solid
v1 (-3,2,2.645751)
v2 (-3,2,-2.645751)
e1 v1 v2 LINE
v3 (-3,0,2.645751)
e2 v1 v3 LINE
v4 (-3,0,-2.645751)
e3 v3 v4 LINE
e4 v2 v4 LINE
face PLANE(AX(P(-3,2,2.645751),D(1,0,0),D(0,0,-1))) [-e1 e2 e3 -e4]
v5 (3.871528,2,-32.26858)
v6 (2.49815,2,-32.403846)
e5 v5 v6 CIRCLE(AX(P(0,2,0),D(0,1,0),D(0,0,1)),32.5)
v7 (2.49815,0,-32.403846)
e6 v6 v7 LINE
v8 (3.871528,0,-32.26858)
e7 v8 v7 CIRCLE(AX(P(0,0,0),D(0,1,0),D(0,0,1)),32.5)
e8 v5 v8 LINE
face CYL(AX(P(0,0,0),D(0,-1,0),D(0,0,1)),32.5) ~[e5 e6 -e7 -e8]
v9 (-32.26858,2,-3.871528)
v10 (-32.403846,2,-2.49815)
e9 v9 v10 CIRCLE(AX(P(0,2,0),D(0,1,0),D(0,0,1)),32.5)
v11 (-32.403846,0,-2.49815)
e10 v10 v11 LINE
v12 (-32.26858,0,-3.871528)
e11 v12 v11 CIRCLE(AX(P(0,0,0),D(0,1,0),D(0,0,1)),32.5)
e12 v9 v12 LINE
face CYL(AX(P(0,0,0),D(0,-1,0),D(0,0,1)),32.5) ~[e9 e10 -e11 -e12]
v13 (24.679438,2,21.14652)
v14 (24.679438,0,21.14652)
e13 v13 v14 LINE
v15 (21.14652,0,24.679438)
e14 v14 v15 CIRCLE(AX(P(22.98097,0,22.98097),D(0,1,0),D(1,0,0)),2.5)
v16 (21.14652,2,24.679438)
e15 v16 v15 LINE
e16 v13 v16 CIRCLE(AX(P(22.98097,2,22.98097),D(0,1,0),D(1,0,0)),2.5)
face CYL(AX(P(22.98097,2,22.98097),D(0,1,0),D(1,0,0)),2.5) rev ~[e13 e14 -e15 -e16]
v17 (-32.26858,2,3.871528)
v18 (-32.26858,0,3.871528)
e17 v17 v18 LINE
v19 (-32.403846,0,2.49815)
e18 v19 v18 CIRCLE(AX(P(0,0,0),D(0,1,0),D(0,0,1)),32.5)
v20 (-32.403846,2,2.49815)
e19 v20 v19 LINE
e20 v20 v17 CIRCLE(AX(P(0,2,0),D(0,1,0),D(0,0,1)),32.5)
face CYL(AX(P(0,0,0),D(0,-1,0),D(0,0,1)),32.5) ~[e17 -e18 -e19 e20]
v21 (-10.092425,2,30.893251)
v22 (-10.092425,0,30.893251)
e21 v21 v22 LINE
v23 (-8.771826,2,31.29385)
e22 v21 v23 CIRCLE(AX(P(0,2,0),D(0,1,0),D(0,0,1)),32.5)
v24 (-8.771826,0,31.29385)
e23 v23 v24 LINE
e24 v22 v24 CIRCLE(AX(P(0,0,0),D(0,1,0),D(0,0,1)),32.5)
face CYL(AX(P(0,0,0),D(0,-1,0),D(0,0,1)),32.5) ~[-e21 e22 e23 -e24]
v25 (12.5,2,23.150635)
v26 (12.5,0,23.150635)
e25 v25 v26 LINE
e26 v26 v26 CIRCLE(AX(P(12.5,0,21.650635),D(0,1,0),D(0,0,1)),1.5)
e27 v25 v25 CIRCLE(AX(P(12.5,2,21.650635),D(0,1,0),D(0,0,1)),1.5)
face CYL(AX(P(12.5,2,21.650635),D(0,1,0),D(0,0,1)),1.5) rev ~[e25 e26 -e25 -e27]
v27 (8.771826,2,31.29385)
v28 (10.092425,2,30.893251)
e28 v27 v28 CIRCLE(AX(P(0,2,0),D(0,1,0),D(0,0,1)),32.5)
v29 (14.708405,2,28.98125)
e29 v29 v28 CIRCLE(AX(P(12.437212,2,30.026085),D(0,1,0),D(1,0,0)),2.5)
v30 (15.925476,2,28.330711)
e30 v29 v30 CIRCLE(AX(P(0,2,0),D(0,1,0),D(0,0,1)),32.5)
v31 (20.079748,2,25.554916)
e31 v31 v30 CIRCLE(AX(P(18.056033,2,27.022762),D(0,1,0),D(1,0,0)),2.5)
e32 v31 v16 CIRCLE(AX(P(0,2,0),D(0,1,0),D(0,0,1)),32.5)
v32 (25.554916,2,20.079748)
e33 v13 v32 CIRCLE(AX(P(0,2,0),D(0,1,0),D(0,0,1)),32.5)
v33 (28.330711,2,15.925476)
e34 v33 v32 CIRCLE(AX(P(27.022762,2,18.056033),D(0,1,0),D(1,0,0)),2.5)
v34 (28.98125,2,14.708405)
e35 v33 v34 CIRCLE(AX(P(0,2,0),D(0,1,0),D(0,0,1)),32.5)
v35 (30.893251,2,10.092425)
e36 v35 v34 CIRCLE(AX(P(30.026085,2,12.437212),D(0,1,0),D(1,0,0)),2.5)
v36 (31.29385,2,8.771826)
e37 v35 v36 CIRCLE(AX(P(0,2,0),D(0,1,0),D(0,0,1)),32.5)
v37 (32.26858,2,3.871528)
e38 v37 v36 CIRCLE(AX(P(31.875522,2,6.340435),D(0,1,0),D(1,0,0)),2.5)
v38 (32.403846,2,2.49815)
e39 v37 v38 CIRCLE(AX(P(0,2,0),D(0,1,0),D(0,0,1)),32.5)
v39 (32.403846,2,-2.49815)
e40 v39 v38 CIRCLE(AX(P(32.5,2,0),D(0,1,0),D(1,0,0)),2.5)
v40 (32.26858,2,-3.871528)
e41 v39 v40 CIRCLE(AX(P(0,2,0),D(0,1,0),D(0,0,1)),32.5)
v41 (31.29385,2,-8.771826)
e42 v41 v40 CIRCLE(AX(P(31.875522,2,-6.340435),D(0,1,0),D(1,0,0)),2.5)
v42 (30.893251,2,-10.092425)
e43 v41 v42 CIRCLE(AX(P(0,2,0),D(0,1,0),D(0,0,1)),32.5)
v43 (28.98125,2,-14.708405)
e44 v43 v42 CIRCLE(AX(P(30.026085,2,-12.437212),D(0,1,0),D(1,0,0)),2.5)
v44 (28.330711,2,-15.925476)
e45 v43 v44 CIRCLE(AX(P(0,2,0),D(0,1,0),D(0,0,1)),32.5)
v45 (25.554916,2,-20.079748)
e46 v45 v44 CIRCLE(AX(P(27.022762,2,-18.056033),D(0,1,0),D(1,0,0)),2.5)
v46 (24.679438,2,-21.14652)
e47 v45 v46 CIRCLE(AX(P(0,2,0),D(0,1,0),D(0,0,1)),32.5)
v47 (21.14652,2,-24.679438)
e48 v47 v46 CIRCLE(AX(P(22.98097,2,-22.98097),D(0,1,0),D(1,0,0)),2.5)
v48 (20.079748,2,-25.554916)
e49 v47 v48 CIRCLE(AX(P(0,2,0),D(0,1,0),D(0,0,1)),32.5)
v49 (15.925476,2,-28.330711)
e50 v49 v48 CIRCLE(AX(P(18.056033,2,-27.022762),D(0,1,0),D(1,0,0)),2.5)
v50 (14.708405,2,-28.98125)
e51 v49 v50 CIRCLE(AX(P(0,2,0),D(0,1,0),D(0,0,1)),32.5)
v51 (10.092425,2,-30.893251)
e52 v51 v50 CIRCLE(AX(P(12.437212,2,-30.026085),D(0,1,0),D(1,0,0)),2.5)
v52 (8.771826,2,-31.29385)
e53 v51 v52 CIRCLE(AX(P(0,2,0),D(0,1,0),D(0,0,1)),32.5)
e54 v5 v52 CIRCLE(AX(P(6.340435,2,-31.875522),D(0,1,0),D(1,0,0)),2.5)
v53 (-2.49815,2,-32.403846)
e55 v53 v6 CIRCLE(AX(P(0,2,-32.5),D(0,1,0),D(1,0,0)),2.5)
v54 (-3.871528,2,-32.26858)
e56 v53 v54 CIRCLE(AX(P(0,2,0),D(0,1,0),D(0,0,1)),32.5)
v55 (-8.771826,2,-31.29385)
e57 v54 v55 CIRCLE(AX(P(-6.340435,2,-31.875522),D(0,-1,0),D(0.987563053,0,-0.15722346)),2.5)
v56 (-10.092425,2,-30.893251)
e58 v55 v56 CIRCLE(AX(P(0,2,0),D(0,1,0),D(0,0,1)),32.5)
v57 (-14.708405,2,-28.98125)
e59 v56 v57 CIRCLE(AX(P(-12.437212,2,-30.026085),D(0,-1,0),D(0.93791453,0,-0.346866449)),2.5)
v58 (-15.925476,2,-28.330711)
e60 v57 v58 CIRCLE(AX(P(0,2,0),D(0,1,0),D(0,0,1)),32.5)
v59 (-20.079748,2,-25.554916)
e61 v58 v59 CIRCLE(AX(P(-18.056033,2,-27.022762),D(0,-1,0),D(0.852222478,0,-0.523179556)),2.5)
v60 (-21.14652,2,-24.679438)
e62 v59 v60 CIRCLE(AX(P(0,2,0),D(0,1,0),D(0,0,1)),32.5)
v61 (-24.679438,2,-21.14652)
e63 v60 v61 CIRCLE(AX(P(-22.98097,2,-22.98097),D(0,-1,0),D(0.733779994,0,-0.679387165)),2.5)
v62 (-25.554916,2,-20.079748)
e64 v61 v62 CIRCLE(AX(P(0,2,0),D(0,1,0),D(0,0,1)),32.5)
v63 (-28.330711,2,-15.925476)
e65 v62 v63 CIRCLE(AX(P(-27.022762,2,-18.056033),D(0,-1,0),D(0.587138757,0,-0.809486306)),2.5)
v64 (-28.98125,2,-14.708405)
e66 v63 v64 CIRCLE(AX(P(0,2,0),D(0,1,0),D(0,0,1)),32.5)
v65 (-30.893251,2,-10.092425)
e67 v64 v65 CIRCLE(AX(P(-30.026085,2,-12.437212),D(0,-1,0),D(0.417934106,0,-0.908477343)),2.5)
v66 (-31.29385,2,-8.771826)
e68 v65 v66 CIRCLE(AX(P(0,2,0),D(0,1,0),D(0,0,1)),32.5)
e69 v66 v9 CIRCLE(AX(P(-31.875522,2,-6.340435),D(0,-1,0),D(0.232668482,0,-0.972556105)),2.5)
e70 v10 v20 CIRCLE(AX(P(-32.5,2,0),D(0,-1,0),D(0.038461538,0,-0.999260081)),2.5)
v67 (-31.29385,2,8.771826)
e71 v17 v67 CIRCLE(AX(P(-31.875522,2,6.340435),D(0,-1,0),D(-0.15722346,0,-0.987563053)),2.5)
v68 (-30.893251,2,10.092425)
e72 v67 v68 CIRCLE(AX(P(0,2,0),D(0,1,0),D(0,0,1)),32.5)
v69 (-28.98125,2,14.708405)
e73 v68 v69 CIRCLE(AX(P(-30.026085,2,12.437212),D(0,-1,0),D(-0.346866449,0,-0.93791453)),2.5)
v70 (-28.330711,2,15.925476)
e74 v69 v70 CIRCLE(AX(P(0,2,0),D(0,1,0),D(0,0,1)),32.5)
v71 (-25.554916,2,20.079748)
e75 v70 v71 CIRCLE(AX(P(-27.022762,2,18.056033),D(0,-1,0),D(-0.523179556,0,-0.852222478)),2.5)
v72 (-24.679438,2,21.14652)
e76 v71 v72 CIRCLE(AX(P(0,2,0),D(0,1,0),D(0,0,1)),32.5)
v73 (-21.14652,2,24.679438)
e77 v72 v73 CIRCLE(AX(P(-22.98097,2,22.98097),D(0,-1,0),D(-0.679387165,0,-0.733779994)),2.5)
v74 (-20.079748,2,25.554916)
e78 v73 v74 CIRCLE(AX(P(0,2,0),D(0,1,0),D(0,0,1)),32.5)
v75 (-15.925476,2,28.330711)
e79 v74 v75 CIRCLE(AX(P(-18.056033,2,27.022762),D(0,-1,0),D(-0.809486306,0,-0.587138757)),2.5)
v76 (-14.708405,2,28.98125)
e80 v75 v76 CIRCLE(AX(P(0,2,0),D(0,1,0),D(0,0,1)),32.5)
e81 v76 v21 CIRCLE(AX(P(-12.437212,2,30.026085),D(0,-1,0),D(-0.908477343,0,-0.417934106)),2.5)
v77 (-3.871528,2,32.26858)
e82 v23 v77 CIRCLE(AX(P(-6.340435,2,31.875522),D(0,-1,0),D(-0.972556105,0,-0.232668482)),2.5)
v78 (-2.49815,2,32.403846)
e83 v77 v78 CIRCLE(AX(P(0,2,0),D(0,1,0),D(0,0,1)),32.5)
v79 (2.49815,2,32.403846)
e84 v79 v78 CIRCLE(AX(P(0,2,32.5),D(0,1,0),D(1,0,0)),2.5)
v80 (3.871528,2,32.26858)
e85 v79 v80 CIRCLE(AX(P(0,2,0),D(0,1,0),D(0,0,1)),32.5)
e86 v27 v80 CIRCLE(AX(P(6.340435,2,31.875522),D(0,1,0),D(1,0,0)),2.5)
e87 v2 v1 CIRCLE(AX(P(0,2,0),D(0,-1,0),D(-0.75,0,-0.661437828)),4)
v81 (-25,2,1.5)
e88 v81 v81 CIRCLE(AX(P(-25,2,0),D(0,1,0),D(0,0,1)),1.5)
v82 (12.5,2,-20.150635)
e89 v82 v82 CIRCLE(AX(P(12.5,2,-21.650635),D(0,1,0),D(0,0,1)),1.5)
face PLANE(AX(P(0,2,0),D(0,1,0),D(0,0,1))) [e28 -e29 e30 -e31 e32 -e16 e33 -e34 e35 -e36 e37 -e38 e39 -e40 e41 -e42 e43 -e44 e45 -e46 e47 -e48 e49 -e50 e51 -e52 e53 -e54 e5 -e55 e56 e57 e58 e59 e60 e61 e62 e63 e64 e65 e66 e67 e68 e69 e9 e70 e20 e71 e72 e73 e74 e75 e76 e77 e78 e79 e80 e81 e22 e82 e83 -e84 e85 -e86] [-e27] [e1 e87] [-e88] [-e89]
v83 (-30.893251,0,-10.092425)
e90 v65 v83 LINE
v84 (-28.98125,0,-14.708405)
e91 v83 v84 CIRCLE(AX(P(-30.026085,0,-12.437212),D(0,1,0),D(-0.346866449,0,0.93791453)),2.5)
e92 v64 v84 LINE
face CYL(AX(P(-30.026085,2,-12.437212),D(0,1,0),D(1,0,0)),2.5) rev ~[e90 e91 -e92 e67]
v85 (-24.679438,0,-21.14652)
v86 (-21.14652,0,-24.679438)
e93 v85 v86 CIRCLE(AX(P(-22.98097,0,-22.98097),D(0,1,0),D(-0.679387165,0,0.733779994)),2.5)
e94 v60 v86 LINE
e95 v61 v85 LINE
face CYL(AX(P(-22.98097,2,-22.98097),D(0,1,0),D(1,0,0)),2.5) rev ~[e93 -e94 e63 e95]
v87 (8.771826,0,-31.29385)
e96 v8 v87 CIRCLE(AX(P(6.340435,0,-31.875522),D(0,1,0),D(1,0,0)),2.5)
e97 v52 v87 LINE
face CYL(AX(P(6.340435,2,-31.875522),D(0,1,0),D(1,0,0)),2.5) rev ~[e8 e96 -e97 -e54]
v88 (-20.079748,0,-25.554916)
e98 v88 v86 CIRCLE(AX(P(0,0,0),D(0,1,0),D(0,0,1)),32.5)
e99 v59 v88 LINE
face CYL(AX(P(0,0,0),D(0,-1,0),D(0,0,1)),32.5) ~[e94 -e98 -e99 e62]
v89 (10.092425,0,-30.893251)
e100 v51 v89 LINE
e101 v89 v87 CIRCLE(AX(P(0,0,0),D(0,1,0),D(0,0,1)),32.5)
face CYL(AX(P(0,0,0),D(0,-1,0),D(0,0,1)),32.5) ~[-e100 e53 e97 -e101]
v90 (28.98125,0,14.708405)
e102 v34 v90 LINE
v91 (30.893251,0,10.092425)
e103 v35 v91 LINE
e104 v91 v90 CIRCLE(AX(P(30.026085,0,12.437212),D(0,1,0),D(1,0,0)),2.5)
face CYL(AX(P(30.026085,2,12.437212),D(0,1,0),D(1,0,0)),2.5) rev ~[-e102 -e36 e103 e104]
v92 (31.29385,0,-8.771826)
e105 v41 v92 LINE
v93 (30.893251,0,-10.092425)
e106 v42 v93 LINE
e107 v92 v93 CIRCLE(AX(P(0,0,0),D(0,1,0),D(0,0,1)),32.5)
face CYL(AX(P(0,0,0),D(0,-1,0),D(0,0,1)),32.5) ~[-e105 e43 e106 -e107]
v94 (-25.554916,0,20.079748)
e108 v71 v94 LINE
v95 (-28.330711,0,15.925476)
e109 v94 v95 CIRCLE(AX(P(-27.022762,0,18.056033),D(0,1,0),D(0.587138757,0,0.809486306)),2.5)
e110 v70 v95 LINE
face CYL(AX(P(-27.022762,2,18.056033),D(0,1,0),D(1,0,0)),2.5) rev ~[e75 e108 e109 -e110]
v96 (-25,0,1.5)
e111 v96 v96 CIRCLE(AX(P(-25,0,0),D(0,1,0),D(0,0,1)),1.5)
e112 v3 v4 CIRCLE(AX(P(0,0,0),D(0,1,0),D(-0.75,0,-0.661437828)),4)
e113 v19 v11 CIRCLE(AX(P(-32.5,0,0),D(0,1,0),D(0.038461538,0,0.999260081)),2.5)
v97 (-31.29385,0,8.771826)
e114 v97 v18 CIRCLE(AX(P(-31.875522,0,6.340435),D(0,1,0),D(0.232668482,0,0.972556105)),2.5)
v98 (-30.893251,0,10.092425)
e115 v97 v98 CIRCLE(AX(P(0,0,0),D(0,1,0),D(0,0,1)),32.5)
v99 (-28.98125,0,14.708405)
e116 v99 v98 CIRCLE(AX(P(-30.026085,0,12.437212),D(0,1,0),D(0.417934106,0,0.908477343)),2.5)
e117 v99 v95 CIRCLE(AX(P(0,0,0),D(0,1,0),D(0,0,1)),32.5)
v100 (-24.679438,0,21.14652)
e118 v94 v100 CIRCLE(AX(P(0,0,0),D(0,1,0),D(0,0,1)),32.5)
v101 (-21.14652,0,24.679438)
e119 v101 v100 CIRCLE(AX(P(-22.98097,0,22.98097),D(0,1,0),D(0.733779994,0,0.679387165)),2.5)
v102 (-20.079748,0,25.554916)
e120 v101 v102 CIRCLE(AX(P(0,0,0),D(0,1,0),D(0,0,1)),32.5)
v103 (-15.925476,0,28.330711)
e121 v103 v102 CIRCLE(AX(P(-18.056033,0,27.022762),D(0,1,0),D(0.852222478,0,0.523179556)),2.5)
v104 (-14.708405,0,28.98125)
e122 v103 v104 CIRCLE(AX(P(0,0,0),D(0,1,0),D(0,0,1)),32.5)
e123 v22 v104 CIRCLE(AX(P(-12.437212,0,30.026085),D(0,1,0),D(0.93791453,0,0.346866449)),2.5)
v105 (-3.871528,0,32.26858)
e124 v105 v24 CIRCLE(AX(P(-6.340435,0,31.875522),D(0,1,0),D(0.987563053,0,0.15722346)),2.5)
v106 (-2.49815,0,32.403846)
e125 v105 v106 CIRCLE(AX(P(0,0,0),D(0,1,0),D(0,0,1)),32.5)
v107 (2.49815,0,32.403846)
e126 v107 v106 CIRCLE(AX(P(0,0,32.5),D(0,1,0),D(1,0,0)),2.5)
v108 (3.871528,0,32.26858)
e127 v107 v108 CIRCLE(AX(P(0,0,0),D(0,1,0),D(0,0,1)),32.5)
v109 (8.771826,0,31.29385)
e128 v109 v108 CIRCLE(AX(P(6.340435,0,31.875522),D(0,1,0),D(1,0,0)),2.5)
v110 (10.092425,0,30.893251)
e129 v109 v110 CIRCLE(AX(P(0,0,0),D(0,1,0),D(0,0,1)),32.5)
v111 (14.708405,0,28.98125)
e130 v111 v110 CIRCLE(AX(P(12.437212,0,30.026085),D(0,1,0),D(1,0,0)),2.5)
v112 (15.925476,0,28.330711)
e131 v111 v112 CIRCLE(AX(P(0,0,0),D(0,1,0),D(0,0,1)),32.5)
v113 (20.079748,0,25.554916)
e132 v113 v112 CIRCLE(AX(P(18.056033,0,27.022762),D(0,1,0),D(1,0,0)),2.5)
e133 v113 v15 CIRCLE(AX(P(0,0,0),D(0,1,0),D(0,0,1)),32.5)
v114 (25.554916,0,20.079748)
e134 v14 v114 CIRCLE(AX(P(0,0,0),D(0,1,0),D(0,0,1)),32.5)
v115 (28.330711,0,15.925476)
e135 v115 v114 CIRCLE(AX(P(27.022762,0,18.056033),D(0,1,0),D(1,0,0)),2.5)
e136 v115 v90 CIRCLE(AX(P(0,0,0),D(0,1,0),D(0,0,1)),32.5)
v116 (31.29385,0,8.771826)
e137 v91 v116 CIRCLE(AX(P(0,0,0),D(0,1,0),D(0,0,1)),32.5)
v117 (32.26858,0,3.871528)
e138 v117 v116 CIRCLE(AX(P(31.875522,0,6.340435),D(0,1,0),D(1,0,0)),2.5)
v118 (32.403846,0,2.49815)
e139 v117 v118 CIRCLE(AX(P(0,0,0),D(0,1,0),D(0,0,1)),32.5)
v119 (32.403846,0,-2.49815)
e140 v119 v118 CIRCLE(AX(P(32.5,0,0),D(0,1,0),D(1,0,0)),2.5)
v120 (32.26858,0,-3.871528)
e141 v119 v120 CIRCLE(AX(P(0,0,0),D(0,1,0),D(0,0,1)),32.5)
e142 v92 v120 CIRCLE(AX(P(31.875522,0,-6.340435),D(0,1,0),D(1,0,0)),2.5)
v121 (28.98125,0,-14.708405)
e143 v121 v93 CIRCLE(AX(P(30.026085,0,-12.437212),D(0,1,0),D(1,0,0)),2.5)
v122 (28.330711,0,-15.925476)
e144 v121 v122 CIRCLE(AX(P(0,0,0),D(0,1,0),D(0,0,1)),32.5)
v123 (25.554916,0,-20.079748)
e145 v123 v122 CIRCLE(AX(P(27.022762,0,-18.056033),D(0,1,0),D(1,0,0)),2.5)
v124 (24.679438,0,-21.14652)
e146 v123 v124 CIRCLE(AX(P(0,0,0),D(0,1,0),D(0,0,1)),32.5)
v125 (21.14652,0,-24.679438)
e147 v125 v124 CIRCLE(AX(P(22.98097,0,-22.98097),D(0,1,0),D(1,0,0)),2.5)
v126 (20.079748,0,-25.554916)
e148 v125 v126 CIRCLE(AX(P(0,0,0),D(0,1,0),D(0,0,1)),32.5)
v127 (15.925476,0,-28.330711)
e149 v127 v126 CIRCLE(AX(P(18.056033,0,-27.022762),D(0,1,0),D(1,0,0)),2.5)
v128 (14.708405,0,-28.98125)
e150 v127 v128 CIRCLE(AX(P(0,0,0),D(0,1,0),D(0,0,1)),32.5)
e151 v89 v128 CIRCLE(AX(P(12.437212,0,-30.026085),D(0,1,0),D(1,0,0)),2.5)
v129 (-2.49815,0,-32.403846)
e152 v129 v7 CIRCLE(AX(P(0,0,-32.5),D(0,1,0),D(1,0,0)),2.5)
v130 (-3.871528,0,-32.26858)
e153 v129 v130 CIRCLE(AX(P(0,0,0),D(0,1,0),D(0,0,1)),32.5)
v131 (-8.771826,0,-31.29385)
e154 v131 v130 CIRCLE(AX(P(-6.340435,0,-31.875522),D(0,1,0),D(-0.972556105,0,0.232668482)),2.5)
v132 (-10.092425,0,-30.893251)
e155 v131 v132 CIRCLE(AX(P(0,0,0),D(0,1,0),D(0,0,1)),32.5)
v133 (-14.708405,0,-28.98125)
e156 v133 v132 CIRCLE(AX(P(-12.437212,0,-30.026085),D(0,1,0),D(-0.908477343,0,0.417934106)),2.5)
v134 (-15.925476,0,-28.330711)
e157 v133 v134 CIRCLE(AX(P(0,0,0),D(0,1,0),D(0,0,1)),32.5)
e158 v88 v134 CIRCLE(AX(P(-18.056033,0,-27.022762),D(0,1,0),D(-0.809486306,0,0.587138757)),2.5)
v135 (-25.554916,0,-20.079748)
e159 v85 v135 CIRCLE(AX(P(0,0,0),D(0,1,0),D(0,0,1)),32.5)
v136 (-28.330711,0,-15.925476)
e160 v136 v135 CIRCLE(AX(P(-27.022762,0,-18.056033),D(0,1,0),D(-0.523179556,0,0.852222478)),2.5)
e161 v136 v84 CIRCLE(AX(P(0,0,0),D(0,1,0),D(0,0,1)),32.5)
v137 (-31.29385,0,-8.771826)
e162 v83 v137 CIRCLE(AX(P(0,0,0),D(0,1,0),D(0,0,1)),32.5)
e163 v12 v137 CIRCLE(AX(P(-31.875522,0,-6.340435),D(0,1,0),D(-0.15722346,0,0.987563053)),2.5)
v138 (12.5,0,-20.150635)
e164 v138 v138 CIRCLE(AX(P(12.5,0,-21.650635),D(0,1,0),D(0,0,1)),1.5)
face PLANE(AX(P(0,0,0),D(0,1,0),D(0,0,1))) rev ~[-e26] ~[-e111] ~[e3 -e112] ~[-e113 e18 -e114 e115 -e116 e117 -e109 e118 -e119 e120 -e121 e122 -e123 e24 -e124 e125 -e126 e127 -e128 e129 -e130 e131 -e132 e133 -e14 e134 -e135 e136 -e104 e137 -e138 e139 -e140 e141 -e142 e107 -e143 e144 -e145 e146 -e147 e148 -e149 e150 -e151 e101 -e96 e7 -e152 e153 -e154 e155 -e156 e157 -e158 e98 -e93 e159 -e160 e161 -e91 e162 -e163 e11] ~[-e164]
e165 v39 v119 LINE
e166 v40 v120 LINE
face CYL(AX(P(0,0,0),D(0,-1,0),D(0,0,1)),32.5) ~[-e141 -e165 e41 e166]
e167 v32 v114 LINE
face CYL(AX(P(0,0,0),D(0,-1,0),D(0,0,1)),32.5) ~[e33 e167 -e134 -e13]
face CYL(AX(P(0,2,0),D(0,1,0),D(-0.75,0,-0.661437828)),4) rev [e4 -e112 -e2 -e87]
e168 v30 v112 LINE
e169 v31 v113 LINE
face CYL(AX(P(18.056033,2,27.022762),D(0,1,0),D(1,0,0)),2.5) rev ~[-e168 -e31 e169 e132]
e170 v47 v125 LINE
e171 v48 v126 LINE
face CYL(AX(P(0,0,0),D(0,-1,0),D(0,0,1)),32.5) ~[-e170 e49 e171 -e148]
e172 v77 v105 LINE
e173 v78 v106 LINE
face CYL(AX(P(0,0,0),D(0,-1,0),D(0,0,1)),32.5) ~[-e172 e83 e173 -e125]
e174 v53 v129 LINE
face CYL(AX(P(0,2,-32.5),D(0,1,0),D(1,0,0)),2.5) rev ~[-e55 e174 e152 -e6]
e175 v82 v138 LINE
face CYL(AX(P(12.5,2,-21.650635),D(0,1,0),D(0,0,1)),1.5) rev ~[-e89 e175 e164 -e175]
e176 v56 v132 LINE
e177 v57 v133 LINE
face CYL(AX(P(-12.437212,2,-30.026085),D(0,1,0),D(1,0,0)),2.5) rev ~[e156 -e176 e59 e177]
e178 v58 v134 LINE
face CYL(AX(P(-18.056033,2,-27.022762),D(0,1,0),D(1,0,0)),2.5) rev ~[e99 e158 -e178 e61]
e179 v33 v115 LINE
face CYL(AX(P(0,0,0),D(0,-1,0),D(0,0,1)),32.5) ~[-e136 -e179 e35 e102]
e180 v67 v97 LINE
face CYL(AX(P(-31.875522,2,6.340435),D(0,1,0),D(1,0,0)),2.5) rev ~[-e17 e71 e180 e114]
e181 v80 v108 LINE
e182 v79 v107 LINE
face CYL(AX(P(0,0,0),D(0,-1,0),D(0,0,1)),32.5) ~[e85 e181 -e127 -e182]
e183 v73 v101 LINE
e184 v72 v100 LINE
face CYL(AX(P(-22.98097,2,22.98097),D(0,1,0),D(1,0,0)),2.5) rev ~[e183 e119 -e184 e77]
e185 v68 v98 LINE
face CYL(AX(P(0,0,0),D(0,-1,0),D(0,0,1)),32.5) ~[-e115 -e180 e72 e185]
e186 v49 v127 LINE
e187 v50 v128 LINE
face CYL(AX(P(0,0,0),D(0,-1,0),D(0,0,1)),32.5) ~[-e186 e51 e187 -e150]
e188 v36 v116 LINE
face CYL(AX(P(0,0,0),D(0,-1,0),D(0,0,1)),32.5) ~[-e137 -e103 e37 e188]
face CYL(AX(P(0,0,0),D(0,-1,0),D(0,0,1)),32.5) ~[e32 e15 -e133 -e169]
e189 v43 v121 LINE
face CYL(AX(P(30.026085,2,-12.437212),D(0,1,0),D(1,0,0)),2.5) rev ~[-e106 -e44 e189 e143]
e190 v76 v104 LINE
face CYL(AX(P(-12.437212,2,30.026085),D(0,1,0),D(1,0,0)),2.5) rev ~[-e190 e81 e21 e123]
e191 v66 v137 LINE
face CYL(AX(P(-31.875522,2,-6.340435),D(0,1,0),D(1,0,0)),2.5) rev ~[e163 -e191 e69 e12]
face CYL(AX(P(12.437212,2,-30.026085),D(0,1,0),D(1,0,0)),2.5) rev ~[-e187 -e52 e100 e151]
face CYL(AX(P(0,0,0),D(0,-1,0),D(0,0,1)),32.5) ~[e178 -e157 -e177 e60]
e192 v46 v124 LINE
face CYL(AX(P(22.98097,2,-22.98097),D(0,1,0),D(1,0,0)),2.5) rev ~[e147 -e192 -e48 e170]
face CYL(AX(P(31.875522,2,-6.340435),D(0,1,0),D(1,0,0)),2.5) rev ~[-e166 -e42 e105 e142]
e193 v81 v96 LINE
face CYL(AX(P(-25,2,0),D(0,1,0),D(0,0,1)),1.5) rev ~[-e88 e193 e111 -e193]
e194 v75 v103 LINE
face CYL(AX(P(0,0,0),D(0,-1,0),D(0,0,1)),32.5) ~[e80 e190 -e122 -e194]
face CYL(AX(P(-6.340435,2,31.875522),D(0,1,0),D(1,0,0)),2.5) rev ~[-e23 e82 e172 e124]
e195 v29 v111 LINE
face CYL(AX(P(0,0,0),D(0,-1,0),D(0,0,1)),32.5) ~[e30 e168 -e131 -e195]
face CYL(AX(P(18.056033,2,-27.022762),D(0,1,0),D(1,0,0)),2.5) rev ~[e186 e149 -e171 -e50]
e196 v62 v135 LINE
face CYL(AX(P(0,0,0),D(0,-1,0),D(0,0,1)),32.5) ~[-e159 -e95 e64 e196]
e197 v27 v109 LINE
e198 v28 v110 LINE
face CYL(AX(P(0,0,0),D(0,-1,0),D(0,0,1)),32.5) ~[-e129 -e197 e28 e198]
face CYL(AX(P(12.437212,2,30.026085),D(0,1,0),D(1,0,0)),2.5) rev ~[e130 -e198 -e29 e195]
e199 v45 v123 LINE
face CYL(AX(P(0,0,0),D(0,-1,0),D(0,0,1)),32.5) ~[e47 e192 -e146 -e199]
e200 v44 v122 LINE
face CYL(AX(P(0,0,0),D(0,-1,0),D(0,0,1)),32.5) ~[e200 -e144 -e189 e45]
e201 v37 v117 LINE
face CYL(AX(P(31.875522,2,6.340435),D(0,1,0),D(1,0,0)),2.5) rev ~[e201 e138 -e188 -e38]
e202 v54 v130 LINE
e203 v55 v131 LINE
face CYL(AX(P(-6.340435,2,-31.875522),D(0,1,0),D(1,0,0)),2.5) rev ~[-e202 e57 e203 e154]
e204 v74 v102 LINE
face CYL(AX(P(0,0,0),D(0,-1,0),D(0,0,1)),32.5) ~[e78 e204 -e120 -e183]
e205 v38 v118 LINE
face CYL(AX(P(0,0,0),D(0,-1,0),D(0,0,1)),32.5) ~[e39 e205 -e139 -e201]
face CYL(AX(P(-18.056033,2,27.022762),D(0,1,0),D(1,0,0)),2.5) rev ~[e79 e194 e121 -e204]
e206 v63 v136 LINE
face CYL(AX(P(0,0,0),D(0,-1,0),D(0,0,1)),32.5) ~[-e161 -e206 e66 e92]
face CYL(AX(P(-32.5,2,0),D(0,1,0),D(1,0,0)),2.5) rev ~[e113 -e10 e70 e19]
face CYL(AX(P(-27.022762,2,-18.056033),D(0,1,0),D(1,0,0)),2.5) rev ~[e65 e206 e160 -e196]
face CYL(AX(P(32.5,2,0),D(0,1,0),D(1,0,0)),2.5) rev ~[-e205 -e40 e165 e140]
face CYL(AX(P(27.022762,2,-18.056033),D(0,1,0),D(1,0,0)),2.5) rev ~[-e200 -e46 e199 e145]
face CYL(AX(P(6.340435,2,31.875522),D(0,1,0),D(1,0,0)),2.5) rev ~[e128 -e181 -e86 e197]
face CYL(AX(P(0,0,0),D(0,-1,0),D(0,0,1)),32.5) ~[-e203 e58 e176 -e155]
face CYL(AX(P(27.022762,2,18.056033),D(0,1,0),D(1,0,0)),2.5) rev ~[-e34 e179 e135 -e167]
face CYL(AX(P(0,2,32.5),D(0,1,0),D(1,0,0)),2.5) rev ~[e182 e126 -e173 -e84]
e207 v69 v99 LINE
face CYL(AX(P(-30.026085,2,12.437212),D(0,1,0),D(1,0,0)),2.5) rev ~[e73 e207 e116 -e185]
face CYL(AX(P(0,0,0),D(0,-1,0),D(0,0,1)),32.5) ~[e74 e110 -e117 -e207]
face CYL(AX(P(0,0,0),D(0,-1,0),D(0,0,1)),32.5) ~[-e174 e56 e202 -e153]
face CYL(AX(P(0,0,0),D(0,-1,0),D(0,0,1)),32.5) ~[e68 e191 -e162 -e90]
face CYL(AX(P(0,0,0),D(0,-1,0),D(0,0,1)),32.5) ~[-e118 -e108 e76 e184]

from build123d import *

# Parameters (mm, degrees)
SKETCH1_R           = 32.5
BOSS_EXTRUDE1_DEPTH = 2
CUT_EXTRUDE2_DEPTH  = 47.005434462
SKETCH2_R           = 2.5
CUT_EXTRUDE1_DEPTH  = 47.005434462
SKETCH5_R           = 1.5
CUT_EXTRUDE3_DEPTH  = 10


with BuildPart() as part:
    # Sketch1 → Boss-Extrude1 (new body)
    with BuildSketch(Plane(origin=(0, 0, 0), x_dir=(1, 0, 0), z_dir=(0, 1, 0))):
        with Locations(Location((0, 0, 0), (0, 0, 270))):
            Circle(SKETCH1_R)
    extrude(amount=BOSS_EXTRUDE1_DEPTH)

    # Sketch4 → Cut-Extrude2 (cut, through all)
    with BuildSketch(Plane(origin=(0, 2, 0), x_dir=(1, 0, 0), z_dir=(0, 1, 0))):
        with BuildLine():
            Line((-3, -2.645751311), (-3, 2.645751311))
            ThreePointArc((-3, 2.645751311), (4, 0), (-3, -2.645751311))
        make_face()
    extrude(amount=-CUT_EXTRUDE2_DEPTH, mode=Mode.SUBTRACT)

    # Sketch2 → Cut-Extrude1 (cut, through all)
    with BuildSketch(Plane(origin=(0, 2, 0), x_dir=(1, 0, 0), z_dir=(0, 1, 0))):
        with Locations((-30.026084807, -12.437211552)):
            Circle(SKETCH2_R)
        with Locations((-32.5, 0)):
            Circle(SKETCH2_R)
        with Locations((-31.875521613, 6.340435466)):
            Circle(SKETCH2_R)
        with Locations((-30.026084807, 12.437211552)):
            Circle(SKETCH2_R)
        with Locations((-27.0227624, 18.056032573)):
            Circle(SKETCH2_R)
        with Locations((-22.980970389, 22.980970389)):
            Circle(SKETCH2_R)
        with Locations((-18.056032573, 27.0227624)):
            Circle(SKETCH2_R)
        with Locations((-12.437211552, 30.026084807)):
            Circle(SKETCH2_R)
        with Locations((-6.340435466, 31.875521613)):
            Circle(SKETCH2_R)
        with Locations((0, 32.5)):
            Circle(SKETCH2_R)
        with Locations((6.340435466, 31.875521613)):
            Circle(SKETCH2_R)
        with Locations((12.437211552, 30.026084807)):
            Circle(SKETCH2_R)
        with Locations((18.056032573, 27.0227624)):
            Circle(SKETCH2_R)
        with Locations((22.980970389, 22.980970389)):
            Circle(SKETCH2_R)
        with Locations((27.0227624, 18.056032573)):
            Circle(SKETCH2_R)
        with Locations((30.026084807, 12.437211552)):
            Circle(SKETCH2_R)
        with Locations((31.875521613, 6.340435466)):
            Circle(SKETCH2_R)
        with Locations((32.5, 0)):
            Circle(SKETCH2_R)
        with Locations((31.875521613, -6.340435466)):
            Circle(SKETCH2_R)
        with Locations((30.026084807, -12.437211552)):
            Circle(SKETCH2_R)
        with Locations((27.0227624, -18.056032573)):
            Circle(SKETCH2_R)
        with Locations((22.980970389, -22.980970389)):
            Circle(SKETCH2_R)
        with Locations((18.056032573, -27.0227624)):
            Circle(SKETCH2_R)
        with Locations((12.437211552, -30.026084807)):
            Circle(SKETCH2_R)
        with Locations((6.340435466, -31.875521613)):
            Circle(SKETCH2_R)
        with Locations((0, -32.5)):
            Circle(SKETCH2_R)
        with Locations((-6.340435466, -31.875521613)):
            Circle(SKETCH2_R)
        with Locations((-12.437211552, -30.026084807)):
            Circle(SKETCH2_R)
        with Locations((-18.056032573, -27.0227624)):
            Circle(SKETCH2_R)
        with Locations((-22.980970389, -22.980970389)):
            Circle(SKETCH2_R)
        with Locations((-27.0227624, -18.056032573)):
            Circle(SKETCH2_R)
        with Locations((-31.875521613, -6.340435466)):
            Circle(SKETCH2_R)
    extrude(amount=-CUT_EXTRUDE1_DEPTH, mode=Mode.SUBTRACT)

    # Sketch5 → Cut-Extrude3 (cut)
    with BuildSketch(Plane(origin=(0, 2, 0), x_dir=(1, 0, 0), z_dir=(0, 1, 0))):
        with Locations(Location((-25, 0, 0), (0, 0, 270))):
            Circle(SKETCH5_R)
        with Locations(Location((12.5, 21.650635095, 0), (0, 0, 270))):
            Circle(SKETCH5_R)
        with Locations(Location((12.5, -21.650635095, 0), (0, 0, 270))):
            Circle(SKETCH5_R)
    extrude(amount=-CUT_EXTRUDE3_DEPTH, mode=Mode.SUBTRACT)


solid = part.part
